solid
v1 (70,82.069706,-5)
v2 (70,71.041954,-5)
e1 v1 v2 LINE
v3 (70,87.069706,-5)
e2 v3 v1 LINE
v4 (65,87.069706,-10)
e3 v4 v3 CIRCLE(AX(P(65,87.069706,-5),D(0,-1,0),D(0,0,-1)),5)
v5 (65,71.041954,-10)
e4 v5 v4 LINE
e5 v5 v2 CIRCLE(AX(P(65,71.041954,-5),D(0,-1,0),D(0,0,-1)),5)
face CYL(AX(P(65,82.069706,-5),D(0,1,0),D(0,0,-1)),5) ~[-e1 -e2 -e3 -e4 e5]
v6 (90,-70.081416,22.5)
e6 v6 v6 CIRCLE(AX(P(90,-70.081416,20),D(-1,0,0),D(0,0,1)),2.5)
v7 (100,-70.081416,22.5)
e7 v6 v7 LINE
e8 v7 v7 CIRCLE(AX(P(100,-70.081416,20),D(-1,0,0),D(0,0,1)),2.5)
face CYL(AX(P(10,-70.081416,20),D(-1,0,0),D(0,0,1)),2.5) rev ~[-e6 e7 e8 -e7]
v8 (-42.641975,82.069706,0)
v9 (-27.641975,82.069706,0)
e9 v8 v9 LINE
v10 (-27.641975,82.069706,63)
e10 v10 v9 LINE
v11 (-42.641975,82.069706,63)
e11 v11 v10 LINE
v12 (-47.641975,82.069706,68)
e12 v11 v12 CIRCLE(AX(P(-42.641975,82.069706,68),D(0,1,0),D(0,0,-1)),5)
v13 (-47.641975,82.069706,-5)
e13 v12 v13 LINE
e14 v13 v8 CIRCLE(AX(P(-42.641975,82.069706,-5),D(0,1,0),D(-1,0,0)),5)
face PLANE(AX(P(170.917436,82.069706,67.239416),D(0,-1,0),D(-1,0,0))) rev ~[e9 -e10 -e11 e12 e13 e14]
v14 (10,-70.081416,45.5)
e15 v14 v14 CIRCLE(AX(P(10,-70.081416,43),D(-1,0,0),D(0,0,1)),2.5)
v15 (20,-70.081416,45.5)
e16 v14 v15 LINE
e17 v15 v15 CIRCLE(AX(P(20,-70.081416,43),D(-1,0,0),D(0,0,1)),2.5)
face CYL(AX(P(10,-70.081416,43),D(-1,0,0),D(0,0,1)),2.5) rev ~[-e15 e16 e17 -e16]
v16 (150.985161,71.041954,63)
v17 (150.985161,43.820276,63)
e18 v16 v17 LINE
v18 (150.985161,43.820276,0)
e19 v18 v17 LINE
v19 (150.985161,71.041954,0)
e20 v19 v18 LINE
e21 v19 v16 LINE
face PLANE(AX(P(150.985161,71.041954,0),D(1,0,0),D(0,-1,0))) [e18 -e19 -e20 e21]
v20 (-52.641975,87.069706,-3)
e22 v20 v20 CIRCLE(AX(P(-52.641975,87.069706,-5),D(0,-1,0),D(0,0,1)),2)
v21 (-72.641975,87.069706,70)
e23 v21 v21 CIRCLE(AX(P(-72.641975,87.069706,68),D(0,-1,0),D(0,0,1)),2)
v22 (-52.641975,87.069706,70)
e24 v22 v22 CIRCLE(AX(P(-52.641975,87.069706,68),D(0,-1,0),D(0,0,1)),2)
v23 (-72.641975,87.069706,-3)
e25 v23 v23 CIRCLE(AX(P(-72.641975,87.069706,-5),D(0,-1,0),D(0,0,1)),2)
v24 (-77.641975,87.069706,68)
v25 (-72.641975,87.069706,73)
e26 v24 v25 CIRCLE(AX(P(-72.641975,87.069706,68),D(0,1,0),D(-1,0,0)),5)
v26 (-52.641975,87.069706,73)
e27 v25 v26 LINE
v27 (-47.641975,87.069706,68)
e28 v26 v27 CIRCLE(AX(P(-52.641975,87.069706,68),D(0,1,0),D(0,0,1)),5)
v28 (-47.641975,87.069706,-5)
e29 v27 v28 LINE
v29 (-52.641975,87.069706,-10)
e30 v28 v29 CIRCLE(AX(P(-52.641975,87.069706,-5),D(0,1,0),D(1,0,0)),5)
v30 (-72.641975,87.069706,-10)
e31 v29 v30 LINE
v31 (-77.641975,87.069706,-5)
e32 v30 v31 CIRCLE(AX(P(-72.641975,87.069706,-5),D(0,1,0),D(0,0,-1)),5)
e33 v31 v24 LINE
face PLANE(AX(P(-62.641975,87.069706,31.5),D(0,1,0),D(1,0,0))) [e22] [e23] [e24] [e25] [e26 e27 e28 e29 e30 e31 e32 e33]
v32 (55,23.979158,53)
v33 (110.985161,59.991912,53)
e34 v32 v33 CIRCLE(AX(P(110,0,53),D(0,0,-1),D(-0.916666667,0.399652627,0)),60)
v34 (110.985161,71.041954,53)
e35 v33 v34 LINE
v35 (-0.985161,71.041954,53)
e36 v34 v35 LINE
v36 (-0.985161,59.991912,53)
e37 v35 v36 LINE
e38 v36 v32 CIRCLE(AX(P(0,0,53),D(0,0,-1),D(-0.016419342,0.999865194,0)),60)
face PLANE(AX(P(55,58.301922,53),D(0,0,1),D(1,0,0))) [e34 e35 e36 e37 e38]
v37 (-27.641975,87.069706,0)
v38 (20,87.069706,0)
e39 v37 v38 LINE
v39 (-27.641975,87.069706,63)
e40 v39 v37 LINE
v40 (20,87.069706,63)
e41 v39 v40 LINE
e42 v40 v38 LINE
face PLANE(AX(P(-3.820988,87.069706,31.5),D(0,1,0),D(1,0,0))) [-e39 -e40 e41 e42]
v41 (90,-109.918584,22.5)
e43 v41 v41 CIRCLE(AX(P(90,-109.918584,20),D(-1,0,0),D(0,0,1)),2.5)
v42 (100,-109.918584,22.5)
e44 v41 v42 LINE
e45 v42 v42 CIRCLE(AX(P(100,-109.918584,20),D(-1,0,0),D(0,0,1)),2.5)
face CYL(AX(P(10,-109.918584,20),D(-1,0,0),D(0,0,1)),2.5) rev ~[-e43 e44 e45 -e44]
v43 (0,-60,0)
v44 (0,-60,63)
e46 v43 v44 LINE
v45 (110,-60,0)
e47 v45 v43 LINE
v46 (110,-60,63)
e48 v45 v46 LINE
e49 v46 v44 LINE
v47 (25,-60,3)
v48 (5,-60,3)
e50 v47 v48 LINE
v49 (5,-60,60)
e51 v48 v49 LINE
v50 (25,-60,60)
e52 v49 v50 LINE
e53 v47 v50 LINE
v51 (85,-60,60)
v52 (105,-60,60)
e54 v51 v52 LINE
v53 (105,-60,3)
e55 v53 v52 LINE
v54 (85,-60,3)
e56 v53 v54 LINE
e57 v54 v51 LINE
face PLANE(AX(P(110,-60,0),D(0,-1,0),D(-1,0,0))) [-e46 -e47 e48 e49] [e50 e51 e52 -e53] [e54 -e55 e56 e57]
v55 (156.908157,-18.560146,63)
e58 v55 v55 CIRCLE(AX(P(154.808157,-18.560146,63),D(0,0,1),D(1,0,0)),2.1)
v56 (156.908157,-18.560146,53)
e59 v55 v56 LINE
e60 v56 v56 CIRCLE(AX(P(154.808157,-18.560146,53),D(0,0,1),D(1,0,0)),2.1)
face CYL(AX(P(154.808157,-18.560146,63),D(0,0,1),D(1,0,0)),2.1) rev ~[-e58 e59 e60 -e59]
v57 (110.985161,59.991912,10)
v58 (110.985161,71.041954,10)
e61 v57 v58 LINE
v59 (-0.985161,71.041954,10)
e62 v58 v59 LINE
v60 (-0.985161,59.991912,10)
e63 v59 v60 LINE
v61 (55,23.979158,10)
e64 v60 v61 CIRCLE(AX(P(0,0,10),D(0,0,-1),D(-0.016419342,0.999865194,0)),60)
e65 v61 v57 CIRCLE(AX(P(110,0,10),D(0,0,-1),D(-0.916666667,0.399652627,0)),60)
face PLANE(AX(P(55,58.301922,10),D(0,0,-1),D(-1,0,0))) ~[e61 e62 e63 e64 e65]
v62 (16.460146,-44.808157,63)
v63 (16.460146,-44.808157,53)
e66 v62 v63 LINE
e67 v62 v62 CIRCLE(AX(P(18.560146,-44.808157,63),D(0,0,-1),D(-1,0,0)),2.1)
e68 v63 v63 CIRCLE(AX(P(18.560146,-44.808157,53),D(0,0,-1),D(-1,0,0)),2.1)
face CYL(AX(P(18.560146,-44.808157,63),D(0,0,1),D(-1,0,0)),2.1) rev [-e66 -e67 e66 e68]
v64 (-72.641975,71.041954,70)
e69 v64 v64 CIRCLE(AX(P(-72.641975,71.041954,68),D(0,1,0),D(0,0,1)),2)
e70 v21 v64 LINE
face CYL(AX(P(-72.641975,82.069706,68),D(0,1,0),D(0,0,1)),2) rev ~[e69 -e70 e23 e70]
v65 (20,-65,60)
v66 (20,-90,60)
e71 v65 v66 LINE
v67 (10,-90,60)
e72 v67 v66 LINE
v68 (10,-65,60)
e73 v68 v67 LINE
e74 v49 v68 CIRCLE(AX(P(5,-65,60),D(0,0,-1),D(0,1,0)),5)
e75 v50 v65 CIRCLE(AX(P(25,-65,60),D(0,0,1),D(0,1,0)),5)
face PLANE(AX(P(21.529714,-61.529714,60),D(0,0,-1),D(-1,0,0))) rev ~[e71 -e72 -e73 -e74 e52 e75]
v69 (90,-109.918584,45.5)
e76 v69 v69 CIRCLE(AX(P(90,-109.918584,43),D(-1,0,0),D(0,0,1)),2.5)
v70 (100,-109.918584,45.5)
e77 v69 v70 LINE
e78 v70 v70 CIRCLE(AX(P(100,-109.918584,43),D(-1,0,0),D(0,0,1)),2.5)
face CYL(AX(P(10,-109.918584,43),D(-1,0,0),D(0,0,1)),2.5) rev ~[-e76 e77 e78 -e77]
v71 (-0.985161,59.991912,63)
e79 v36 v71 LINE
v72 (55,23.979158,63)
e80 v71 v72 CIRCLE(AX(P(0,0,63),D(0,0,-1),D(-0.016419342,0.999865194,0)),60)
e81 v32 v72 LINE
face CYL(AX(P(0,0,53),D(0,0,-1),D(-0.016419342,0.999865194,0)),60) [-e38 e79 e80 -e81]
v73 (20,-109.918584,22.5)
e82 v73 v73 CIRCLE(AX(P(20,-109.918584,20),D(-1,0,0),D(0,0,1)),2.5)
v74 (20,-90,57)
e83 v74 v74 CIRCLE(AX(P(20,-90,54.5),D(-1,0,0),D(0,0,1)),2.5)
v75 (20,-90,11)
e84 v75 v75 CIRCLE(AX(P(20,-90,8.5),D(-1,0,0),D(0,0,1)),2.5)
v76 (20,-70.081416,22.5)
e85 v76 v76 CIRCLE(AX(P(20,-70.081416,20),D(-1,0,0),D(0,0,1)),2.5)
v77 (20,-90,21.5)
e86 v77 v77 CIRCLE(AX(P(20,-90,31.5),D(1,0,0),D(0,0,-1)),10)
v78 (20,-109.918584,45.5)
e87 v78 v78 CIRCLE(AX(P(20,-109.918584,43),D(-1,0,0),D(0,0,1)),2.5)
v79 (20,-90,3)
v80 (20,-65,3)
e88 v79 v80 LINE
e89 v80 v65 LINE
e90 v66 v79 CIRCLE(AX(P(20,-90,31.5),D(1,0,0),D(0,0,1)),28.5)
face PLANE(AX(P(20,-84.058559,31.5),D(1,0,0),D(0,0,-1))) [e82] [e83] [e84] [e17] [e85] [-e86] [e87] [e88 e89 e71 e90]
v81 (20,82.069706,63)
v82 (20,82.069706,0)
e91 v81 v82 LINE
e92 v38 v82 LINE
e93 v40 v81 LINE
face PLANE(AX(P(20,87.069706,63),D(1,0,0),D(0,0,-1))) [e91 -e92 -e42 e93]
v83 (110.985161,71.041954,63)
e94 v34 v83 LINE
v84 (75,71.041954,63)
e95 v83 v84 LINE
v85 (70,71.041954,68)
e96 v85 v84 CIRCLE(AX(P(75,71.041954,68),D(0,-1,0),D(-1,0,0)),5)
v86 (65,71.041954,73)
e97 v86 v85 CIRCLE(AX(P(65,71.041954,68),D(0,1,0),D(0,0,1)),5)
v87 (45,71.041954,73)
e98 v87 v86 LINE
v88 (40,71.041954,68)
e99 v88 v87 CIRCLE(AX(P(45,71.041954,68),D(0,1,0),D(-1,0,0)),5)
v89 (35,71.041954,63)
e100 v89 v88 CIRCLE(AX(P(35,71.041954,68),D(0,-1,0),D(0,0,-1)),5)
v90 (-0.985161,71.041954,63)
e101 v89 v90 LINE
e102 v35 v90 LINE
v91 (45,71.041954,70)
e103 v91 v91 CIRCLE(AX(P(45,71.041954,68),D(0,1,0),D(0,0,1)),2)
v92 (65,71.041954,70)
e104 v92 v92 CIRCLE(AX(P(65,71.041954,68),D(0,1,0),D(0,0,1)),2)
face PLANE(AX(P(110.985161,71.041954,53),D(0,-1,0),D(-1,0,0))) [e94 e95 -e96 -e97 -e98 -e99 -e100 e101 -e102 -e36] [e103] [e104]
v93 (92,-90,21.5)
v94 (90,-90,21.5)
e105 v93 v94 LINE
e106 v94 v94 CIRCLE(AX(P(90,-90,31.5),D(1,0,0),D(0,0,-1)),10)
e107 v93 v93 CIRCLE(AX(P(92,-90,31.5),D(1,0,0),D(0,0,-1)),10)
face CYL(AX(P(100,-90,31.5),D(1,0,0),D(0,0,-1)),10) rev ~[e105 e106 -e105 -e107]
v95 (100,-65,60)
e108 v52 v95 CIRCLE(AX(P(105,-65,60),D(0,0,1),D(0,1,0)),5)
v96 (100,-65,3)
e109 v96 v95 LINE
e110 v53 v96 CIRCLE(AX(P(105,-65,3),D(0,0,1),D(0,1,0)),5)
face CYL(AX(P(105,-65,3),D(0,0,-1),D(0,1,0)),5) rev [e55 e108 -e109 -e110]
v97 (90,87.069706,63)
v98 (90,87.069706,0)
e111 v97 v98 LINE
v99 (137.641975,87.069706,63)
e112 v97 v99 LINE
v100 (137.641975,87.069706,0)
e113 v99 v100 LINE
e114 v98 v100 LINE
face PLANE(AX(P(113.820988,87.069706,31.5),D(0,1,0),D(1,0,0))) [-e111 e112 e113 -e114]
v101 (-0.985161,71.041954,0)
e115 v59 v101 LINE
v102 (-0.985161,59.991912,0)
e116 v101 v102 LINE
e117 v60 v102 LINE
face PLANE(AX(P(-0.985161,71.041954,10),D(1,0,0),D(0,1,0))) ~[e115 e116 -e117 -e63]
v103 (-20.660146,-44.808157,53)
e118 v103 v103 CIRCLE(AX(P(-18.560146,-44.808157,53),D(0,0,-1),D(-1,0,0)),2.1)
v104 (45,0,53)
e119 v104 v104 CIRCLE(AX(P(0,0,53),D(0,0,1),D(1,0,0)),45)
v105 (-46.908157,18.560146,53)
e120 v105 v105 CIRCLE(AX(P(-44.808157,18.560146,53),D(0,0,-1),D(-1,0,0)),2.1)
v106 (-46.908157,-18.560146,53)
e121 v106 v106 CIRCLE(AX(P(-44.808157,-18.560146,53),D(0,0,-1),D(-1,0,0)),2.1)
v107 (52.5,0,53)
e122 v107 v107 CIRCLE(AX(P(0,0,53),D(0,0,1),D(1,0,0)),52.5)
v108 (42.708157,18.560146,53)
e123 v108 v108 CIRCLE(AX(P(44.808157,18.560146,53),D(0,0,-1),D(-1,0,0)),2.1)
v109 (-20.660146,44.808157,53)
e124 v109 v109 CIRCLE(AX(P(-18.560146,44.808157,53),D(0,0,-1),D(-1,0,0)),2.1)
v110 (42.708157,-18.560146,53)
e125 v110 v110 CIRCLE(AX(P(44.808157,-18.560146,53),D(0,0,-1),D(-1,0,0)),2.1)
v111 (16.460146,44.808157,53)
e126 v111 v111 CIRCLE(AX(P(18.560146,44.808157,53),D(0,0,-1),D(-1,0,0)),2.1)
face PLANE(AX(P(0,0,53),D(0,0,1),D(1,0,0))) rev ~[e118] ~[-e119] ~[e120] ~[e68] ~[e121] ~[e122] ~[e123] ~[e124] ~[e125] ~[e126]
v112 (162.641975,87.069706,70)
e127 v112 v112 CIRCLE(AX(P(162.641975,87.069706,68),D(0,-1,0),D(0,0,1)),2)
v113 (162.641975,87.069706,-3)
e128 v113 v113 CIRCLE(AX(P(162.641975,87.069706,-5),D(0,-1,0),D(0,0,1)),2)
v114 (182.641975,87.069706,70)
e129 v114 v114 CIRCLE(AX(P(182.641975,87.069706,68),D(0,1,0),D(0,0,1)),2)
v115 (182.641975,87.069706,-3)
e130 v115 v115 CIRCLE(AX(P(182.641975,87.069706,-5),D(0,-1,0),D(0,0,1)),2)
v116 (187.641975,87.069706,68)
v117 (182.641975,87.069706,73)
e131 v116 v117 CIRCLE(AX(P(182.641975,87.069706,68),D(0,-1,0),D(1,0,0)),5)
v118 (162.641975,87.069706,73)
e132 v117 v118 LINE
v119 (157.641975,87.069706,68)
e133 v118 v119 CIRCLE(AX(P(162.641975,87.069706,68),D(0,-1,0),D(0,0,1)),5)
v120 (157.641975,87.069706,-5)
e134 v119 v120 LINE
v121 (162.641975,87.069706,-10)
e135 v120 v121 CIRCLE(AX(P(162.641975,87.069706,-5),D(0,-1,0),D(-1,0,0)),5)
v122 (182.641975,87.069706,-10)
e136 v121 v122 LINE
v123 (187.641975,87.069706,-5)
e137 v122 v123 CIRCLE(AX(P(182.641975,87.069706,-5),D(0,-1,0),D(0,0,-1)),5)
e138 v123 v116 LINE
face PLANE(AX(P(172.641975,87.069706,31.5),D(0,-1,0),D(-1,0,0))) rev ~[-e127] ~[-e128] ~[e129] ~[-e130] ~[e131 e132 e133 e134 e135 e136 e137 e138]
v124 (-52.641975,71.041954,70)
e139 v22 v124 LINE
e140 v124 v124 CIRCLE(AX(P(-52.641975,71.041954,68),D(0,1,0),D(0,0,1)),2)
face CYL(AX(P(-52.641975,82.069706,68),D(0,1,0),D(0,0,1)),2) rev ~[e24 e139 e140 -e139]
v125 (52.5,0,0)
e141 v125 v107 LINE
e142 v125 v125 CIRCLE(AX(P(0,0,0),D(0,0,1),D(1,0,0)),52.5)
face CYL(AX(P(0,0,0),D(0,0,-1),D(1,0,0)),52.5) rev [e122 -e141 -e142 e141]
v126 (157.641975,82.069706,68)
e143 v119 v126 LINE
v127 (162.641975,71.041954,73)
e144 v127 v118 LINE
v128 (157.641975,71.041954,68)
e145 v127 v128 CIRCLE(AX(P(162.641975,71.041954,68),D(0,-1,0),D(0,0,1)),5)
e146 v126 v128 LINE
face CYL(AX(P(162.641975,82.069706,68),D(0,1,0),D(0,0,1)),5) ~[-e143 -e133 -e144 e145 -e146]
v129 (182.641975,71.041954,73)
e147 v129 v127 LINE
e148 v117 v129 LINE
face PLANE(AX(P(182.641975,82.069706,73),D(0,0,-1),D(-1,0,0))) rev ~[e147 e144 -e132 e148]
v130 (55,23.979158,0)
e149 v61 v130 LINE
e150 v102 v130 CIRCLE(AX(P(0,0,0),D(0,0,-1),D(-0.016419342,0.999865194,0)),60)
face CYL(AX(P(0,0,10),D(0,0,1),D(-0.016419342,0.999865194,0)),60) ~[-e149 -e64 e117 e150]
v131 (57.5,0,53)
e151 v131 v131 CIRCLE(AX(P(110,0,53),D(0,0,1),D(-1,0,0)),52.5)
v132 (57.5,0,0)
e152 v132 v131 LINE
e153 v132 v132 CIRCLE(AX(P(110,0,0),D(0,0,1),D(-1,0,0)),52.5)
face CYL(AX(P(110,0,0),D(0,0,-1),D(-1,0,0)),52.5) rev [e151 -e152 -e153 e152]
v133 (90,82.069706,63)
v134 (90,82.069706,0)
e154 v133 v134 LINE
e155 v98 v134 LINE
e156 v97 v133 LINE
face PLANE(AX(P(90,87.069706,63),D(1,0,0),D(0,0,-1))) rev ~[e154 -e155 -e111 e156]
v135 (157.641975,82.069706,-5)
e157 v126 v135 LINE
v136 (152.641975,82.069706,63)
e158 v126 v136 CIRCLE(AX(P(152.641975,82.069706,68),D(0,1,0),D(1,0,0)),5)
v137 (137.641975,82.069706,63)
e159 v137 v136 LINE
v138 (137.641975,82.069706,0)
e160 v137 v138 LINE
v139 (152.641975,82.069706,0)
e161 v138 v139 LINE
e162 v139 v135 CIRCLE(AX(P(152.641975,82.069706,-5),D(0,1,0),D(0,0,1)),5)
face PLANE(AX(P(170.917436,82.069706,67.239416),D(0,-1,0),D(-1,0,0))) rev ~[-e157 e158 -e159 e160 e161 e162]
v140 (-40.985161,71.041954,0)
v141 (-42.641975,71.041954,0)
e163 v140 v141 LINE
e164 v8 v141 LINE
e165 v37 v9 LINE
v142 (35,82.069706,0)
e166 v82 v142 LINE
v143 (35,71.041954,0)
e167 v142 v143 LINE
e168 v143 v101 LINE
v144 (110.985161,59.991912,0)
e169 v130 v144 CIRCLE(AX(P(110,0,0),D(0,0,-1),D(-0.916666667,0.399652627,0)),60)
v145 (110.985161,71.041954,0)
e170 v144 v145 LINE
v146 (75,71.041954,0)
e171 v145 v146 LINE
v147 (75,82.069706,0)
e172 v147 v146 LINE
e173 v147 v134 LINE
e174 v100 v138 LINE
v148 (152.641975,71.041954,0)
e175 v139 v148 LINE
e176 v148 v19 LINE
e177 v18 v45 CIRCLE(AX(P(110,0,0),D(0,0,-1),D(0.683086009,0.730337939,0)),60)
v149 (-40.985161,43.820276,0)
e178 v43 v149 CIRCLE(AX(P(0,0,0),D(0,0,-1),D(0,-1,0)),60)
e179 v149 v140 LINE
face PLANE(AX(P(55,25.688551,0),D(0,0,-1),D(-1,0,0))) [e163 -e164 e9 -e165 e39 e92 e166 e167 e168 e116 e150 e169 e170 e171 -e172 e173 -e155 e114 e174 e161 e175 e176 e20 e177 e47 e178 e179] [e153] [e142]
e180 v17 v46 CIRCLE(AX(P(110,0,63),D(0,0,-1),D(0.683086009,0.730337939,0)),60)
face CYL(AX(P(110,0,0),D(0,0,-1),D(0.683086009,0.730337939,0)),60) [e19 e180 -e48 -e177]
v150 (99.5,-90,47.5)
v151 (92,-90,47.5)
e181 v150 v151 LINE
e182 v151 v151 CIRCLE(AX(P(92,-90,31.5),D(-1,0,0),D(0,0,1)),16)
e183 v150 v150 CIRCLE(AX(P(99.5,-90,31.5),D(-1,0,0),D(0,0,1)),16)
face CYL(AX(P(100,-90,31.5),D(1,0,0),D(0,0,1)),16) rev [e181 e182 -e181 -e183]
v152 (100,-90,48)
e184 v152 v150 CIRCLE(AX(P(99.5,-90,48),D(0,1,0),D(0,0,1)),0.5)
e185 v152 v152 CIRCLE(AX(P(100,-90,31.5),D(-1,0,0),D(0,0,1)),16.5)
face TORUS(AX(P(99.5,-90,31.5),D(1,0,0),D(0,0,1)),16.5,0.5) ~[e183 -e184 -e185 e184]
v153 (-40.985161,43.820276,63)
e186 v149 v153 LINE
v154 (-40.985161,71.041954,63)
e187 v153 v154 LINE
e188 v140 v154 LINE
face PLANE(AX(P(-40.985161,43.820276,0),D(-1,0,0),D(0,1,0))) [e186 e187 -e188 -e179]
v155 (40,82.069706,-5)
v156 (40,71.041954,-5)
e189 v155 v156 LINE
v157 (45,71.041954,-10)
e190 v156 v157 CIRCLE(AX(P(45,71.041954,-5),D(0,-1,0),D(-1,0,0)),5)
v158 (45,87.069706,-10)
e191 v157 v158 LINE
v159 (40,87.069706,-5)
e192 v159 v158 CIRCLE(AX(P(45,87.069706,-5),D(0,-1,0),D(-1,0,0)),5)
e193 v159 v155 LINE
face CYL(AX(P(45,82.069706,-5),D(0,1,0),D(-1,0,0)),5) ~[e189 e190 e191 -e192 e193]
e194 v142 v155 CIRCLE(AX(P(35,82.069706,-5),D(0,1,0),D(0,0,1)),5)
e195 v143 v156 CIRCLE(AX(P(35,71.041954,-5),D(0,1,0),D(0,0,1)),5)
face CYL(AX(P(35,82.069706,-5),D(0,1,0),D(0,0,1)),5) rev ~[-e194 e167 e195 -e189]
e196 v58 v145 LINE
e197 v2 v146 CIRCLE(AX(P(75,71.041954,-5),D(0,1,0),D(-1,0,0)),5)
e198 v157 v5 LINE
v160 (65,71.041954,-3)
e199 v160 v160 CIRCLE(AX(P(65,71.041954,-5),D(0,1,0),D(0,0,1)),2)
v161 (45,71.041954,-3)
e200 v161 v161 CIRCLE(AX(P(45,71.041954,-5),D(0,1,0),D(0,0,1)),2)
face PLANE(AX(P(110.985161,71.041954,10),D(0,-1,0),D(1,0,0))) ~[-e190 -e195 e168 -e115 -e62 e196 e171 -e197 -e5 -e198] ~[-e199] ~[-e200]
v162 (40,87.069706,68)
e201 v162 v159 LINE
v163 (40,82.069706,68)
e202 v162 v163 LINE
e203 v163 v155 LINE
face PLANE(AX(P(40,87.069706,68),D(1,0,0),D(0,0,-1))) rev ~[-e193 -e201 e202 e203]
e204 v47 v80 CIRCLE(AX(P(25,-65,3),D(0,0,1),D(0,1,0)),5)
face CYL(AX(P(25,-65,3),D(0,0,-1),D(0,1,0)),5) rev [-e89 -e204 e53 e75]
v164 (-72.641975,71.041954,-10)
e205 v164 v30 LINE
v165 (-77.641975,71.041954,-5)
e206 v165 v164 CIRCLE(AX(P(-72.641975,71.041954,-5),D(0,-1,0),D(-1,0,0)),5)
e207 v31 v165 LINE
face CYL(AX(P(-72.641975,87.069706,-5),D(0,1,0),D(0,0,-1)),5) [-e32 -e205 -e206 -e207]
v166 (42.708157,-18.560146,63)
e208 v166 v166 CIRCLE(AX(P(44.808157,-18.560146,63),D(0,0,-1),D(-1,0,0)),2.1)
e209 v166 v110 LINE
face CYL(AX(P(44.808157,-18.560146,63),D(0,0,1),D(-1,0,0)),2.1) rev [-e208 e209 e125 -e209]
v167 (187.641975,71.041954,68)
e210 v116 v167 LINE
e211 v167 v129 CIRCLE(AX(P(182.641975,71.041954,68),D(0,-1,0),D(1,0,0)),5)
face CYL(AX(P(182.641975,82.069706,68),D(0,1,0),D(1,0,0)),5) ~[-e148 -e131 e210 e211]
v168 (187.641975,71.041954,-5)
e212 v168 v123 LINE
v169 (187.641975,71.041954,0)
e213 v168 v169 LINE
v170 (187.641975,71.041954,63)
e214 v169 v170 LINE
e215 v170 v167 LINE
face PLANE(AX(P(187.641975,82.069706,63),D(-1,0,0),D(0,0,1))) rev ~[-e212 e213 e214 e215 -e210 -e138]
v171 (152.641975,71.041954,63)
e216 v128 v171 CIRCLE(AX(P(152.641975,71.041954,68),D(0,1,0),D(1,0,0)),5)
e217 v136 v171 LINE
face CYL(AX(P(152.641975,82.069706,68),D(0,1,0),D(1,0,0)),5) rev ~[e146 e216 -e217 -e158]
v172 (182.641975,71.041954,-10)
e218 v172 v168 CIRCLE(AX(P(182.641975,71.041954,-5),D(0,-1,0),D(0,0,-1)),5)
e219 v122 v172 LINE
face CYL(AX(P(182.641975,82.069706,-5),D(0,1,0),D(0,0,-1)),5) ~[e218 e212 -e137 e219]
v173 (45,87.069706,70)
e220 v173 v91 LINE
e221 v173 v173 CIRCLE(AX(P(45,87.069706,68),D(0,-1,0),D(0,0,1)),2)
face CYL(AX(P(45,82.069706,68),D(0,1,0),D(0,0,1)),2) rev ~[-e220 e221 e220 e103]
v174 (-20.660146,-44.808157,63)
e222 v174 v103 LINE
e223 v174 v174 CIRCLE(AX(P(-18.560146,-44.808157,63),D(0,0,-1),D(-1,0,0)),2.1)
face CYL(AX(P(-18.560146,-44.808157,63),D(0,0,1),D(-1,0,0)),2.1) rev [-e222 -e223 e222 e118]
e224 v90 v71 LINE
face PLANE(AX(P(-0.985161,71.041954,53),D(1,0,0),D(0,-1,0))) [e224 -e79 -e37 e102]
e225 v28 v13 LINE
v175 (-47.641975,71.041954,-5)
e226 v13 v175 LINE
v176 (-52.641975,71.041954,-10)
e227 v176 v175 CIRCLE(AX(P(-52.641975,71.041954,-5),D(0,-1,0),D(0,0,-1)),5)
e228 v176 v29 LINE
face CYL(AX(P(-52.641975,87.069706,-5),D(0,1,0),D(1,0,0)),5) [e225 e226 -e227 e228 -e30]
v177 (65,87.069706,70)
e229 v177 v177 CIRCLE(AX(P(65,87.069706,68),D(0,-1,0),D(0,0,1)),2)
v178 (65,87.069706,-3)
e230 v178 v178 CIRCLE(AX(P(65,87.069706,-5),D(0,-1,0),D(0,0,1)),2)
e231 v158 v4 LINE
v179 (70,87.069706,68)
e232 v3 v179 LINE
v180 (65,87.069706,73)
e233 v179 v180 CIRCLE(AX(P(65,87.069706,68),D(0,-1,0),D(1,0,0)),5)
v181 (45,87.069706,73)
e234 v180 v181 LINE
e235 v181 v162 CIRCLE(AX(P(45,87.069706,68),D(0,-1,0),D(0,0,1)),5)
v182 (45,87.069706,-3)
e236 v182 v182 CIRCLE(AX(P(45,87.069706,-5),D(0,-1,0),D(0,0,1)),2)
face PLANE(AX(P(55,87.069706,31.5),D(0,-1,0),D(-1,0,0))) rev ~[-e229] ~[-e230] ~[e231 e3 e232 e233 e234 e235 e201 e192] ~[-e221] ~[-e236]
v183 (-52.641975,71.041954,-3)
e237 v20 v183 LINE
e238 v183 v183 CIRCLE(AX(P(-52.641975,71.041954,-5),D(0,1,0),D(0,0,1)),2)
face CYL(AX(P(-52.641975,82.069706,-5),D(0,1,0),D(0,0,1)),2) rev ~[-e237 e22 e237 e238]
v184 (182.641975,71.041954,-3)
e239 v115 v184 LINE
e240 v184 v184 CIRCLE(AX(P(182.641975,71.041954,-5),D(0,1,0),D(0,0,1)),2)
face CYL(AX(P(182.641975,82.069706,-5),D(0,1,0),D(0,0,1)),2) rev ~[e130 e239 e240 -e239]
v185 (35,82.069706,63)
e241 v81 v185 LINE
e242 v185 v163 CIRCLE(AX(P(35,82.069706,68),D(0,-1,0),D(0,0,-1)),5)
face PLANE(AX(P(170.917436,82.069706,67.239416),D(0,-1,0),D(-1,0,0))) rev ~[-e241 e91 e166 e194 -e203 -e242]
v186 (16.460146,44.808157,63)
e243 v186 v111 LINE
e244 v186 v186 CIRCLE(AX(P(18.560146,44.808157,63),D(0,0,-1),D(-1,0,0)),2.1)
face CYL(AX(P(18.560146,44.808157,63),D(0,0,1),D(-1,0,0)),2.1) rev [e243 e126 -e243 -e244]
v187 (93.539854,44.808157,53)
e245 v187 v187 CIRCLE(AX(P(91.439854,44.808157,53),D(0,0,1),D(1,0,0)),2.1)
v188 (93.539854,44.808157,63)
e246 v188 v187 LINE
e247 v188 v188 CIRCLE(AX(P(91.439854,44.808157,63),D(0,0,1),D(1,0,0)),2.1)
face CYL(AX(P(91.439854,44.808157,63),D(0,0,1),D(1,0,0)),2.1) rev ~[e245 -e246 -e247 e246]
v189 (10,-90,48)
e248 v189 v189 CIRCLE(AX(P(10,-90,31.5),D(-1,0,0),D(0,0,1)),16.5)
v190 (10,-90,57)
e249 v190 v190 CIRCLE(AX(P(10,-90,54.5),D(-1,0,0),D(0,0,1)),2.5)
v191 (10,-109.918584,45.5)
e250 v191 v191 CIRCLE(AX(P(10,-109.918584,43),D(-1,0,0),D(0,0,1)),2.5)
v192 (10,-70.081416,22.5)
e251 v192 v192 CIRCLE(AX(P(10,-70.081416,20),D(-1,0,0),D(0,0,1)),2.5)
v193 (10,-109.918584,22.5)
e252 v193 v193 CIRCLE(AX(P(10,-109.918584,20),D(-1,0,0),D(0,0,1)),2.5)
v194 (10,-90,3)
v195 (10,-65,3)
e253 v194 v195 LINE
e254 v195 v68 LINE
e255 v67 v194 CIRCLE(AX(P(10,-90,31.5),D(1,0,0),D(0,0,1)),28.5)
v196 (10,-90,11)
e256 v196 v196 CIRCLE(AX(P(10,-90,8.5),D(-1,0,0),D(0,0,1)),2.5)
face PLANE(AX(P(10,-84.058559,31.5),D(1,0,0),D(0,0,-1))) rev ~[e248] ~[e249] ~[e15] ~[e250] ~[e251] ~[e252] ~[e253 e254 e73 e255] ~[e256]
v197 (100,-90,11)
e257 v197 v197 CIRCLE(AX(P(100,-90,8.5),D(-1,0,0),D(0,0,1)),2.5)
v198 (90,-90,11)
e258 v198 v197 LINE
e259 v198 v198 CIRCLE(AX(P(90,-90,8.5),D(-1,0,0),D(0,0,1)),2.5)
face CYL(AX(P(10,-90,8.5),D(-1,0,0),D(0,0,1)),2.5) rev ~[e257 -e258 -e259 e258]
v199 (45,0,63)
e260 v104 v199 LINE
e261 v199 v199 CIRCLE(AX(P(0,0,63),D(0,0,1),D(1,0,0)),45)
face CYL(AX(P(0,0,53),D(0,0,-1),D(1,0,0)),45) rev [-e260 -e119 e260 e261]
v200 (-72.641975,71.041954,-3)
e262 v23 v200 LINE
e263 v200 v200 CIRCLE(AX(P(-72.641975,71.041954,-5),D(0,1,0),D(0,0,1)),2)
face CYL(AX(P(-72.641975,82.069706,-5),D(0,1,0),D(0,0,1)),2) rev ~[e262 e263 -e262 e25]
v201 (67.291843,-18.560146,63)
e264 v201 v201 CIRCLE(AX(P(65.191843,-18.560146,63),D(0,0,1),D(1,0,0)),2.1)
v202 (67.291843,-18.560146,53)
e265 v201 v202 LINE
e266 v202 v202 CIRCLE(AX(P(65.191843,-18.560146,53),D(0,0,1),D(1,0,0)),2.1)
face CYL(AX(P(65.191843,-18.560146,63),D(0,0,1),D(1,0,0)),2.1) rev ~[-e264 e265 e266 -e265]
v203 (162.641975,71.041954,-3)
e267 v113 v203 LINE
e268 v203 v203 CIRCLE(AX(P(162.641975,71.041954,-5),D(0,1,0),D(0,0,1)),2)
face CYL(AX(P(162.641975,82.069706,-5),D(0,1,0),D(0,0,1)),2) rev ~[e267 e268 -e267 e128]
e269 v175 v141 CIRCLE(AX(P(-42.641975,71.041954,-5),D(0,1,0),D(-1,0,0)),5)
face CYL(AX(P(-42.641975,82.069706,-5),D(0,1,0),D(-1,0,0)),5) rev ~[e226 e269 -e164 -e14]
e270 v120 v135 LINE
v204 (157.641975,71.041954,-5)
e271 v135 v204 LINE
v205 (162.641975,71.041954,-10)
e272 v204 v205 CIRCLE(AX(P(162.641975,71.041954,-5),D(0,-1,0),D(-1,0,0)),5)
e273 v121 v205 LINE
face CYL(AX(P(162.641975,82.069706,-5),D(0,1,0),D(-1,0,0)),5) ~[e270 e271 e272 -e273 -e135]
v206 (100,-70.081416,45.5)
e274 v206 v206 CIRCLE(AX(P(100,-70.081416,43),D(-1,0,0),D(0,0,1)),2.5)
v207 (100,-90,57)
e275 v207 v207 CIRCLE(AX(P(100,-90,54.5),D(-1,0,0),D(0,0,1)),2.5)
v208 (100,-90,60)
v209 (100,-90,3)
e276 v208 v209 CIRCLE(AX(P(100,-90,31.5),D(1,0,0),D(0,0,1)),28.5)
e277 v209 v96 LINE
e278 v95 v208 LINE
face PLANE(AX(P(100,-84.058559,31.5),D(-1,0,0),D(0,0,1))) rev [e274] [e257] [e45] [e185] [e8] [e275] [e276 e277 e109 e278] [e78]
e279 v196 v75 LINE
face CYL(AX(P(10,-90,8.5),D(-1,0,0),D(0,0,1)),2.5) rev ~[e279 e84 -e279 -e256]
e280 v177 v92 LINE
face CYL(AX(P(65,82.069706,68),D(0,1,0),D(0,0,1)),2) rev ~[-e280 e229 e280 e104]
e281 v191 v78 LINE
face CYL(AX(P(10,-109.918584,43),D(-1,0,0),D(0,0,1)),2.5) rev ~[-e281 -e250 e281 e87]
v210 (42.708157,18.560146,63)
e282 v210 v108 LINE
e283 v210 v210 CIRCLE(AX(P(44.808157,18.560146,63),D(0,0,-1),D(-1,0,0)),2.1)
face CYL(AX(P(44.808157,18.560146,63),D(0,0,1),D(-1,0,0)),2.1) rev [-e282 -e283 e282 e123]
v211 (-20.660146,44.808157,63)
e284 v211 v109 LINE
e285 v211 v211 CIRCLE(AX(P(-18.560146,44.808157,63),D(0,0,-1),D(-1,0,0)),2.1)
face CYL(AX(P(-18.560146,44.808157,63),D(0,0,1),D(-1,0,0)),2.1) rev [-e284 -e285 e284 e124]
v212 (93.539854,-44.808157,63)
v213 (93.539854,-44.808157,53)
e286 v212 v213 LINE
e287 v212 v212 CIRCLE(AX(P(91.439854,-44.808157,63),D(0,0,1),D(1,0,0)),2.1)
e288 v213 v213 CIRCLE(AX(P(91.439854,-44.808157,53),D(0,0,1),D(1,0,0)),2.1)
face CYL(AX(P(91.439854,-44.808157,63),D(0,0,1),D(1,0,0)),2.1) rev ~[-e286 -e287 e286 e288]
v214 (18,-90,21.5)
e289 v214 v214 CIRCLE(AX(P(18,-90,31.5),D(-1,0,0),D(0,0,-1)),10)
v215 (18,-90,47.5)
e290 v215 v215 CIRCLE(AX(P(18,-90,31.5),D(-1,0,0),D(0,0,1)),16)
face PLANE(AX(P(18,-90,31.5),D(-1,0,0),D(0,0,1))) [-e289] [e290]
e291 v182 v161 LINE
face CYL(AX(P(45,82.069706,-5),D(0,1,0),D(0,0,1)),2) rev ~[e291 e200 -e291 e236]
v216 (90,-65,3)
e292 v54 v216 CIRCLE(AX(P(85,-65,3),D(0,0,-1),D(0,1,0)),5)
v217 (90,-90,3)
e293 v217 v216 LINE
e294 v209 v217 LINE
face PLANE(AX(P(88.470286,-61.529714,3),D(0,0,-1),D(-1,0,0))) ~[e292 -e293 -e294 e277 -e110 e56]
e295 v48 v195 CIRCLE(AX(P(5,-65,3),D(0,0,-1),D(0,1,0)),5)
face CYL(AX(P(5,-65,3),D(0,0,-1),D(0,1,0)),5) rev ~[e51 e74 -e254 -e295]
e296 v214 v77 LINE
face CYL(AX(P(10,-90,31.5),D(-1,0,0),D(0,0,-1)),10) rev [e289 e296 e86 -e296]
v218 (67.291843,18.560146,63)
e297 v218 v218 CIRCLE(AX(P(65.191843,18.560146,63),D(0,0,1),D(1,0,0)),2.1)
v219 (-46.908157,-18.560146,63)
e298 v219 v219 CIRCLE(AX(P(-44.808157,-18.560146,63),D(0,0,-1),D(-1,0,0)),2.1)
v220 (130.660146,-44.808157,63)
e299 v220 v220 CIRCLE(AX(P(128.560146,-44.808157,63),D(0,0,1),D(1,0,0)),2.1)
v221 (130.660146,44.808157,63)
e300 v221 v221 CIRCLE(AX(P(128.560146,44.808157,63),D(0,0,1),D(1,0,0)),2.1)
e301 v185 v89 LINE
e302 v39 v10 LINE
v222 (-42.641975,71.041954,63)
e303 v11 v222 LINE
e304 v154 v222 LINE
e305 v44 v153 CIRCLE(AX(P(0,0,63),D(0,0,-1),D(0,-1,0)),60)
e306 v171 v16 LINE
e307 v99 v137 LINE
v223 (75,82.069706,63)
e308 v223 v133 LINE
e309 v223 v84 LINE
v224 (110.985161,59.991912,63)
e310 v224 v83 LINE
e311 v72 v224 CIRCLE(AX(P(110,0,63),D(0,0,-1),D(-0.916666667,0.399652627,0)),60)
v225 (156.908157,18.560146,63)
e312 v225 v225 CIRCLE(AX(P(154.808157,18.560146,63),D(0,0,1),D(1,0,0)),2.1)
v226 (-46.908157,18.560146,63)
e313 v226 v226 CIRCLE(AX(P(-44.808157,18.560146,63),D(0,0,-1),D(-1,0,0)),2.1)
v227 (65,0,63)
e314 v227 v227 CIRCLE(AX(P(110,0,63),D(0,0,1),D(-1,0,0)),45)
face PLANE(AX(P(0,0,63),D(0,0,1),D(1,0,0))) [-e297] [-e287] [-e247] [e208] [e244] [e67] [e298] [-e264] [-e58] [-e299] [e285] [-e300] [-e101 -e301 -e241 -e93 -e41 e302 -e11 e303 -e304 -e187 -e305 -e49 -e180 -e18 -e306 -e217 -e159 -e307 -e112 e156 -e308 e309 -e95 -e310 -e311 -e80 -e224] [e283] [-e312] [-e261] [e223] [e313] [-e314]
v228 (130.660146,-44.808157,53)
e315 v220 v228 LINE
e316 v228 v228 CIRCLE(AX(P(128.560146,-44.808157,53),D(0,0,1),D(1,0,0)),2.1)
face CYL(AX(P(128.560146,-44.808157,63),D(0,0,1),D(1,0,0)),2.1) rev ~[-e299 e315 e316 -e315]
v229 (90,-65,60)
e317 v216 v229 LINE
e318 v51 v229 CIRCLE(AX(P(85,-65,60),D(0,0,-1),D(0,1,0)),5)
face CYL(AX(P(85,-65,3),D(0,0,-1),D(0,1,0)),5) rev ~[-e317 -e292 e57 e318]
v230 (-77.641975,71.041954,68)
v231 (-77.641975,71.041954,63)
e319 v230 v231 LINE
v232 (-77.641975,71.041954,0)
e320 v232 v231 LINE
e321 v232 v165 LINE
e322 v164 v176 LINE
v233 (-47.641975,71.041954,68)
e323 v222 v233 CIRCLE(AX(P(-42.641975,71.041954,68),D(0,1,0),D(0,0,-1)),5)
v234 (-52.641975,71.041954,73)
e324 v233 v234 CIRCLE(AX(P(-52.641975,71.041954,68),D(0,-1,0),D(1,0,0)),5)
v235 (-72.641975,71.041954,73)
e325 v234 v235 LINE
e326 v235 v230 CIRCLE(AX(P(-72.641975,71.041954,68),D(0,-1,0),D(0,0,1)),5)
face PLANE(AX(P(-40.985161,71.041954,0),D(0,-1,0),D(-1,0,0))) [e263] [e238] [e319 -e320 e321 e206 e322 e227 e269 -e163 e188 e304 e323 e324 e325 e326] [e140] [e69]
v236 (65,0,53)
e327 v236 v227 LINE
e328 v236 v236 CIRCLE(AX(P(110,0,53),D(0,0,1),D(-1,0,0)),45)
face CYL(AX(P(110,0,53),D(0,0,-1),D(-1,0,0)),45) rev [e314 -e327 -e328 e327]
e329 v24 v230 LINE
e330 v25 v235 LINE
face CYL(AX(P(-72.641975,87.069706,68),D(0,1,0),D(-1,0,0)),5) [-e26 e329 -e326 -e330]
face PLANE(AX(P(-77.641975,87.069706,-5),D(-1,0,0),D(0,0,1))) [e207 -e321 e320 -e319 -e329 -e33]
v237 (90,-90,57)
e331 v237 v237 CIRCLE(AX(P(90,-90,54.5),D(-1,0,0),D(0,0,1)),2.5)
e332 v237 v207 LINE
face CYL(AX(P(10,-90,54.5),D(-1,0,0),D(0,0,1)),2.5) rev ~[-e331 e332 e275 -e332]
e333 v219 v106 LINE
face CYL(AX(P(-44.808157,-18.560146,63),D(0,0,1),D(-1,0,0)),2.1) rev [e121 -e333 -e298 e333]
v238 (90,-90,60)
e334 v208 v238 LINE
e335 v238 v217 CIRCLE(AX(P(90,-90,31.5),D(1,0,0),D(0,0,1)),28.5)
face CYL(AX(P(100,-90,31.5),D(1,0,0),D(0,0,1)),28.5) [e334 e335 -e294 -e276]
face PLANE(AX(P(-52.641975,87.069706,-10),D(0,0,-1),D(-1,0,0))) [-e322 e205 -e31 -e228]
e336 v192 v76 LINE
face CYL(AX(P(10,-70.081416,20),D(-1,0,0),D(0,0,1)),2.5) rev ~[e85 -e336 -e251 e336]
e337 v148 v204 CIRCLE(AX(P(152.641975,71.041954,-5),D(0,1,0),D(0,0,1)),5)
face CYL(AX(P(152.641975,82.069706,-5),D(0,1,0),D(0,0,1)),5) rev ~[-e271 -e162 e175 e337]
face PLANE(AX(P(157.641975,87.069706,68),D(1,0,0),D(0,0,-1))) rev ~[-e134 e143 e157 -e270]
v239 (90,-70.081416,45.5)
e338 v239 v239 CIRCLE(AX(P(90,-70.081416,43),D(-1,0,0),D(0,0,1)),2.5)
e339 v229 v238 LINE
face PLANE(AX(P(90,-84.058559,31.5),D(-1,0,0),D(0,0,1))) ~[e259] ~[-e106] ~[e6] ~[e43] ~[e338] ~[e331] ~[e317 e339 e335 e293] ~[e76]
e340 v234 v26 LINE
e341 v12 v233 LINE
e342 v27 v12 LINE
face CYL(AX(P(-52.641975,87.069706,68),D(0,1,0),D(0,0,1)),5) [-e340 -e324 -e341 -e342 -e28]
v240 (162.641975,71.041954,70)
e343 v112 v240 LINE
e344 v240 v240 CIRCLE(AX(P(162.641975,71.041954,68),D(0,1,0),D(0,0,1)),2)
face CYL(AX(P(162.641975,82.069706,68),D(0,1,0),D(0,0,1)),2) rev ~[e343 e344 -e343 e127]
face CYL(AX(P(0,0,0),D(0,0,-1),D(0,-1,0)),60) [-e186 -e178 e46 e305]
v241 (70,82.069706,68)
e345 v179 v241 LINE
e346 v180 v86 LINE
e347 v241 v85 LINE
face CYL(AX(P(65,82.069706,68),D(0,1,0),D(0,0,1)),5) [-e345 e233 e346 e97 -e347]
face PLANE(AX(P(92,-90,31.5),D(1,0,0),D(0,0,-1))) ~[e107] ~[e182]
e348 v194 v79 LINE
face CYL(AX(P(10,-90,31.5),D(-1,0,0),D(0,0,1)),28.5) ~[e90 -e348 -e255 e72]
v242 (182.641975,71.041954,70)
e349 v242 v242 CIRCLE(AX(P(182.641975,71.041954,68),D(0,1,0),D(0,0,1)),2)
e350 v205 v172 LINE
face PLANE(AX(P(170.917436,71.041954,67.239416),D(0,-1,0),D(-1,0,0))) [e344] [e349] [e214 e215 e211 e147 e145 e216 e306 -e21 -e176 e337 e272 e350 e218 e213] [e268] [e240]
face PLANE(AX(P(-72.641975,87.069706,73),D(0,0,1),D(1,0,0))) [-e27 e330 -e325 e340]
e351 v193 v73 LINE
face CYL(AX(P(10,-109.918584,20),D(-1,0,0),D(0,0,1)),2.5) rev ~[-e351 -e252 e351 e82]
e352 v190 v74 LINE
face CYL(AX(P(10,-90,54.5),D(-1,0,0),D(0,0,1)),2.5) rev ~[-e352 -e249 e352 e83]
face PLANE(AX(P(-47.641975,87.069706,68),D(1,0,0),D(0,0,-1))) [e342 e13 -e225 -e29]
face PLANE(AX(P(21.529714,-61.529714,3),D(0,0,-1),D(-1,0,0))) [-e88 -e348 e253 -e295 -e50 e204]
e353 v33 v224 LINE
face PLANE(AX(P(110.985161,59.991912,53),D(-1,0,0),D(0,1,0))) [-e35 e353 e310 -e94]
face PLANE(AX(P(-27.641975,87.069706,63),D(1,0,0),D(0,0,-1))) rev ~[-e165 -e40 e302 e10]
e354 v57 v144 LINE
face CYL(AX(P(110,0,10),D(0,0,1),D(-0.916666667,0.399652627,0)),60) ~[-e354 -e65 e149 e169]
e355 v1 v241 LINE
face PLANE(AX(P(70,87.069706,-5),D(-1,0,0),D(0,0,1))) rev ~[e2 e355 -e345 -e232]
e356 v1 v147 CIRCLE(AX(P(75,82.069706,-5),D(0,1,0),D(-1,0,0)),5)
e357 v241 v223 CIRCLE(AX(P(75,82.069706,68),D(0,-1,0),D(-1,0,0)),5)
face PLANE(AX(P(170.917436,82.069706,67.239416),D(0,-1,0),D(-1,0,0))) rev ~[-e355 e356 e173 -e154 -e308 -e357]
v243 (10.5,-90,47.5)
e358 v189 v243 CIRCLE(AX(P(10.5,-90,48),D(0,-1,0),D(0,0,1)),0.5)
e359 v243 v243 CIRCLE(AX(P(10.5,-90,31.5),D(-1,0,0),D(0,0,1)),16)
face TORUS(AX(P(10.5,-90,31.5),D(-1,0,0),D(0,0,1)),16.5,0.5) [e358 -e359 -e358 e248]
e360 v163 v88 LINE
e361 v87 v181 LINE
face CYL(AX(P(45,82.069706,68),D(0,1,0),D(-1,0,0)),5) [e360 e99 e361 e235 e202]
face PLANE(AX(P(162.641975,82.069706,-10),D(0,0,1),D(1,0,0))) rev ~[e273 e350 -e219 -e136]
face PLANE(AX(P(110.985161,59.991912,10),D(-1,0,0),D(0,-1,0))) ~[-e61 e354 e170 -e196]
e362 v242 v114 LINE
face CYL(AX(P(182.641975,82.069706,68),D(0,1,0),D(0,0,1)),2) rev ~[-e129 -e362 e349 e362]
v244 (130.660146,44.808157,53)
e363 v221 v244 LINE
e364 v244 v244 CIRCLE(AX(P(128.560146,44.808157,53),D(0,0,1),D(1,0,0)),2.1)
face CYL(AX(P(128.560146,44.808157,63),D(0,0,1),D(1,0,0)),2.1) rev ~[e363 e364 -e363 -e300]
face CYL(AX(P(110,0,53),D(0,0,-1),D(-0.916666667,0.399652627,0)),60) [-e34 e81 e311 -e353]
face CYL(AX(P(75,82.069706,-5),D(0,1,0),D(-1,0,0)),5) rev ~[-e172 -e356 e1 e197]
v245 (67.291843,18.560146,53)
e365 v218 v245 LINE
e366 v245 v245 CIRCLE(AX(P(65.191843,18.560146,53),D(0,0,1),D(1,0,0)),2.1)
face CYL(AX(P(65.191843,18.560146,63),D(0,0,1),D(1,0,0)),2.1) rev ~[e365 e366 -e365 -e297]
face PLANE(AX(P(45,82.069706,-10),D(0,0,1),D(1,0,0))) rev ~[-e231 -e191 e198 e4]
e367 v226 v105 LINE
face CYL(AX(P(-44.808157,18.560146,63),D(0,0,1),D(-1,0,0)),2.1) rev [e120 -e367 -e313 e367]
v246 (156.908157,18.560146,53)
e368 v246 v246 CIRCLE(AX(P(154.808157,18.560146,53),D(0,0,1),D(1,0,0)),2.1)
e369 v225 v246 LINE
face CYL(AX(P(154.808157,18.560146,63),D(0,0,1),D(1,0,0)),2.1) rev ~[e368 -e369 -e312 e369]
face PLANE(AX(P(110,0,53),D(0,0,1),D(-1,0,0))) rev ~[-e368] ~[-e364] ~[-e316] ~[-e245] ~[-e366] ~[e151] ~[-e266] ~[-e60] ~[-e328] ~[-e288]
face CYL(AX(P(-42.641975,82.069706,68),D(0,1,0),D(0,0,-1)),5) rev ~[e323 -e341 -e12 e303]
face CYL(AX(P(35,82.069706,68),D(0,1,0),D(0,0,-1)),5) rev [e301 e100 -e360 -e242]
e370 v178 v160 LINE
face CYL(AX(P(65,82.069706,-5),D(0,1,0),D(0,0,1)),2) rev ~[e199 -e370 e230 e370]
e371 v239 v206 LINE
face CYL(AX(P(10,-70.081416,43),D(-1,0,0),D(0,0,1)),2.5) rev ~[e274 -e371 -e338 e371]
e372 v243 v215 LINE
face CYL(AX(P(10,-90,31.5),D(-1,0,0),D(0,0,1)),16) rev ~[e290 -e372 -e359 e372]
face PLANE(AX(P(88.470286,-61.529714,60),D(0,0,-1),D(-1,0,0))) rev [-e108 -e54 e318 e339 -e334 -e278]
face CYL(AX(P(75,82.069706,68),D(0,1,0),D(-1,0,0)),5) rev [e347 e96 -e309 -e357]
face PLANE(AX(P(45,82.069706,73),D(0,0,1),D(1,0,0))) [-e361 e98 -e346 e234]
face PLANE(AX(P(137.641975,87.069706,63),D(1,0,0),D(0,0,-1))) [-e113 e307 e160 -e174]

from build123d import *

# Parameters (mm, degrees)
SKETCH_1_R          = 52.5
EXTRUDE_1_DEPTH     = 63
SKETCH_3_R          = 10
EXTRUDE_3_DEPTH     = 10
EXTRUDE_5_DEPTH     = 57
EXTRUDE_START       = -10
SKETCH_6_R          = 52.5
SKETCH_6_R_2        = 45
EXTRUDE_6_DEPTH     = 10
SKETCH_9_R          = 2.1
CUT_EXTRUDE_1_DEPTH = 10
CUT_EXTRUDE_START   = -10
CUT_EXTRUDE_2_DEPTH = 10
SKETCH_11_R         = 16
CUT_EXTRUDE_3_DEPTH = 8
FILLET_1_R          = 0.5
EXTRUDE_7_DEPTH     = 11.027752017
SKETCH_14_R         = 2.5
CUT_EXTRUDE_5_DEPTH = 135
EXTRUDE_START_2     = 5
SKETCH_16_W         = 47.641975029
SKETCH_16_H         = 63
EXTRUDE_8_DEPTH     = 5
SKETCH_15_R         = 2
CUT_EXTRUDE_7_DEPTH = 14


with BuildPart() as part:
    # 草图1 → 凸台-拉伸1 (new body)
    with BuildSketch(Plane.XY):
        with BuildLine():
            Line((-40.985160522, 43.820276322), (-40.985160522, 71.041954073))
            Line((-40.985160522, 71.041954073), (-77.641975029, 71.041954073))
            Line((-77.641975029, 71.041954073), (-77.641975029, 82.069706091))
            Line((-77.641975029, 82.069706091), (-40.985160522, 82.069706091))
            Line((-40.985160522, 82.069706091), (150.985160522, 82.069706091))
            Line((150.985160522, 82.069706091), (187.641975029, 82.069706091))
            Line((187.641975029, 82.069706091), (187.641975029, 71.041954073))
            Line((187.641975029, 71.041954073), (150.985160522, 71.041954073))
            Line((150.985160522, 71.041954073), (150.985160522, 43.820276322))
            ThreePointArc((150.985160522, 43.820276322), (165.808675756, -22.031607076), (110, -60))
            Line((110, -60), (0, -60))
            ThreePointArc((0, -60), (-55.808675756, -22.031607076), (-40.985160522, 43.820276322))
        make_face()
        Circle(SKETCH_1_R, mode=Mode.SUBTRACT)
        with Locations(Location((110, 0, 0), (0, 0, 180))):
            Circle(SKETCH_1_R, mode=Mode.SUBTRACT)
    extrude(amount=EXTRUDE_1_DEPTH)

    # 草图3 → 凸台-拉伸3 (add)
    with BuildSketch(Plane(origin=(10, 0, 0), x_dir=(0, 0, -1), z_dir=(1, 0, 0))):
        with BuildLine():
            Line((-60, -60), (-60, -90))
            ThreePointArc((-60, -90), (-31.5, -118.5), (-3, -90))
            Line((-3, -90), (-3, -60))
            Line((-3, -60), (-60, -60))
        make_face()
        with Locations((-31.5, -90)):
            Circle(SKETCH_3_R, mode=Mode.SUBTRACT)
    extrude_3 = extrude(amount=EXTRUDE_3_DEPTH)

    # 草图5 → 凸台-拉伸5 (add)
    with BuildSketch(Plane(origin=(0, 0, 3), x_dir=(-1, 0, 0), z_dir=(0, 0, -1))):
        with BuildLine():
            Line((-20, -65), (-20, -60))
            Line((-20, -60), (-25, -60))
            ThreePointArc((-25, -60), (-21.464466094, -61.464466094), (-20, -65))
        make_face()
        with BuildLine():
            Line((-10, -65), (-10, -60))
            Line((-10, -60), (-5, -60))
            ThreePointArc((-5, -60), (-8.535533906, -61.464466094), (-10, -65))
        make_face()
    extrude_5 = extrude(amount=-EXTRUDE_5_DEPTH)

    # 镜向1: 凸台-拉伸3, 凸台-拉伸5 across plane
    add(extrude_3.mirror(Plane(origin=(55, 0, 0), x_dir=(0, 0, 1), z_dir=(1, 0, 0))))
    add(extrude_5.mirror(Plane(origin=(55, 0, 0), x_dir=(0, 0, 1), z_dir=(1, 0, 0))))

    # 草图6 → 凸台-拉伸6 (add)
    # profile 1 of 2: a face of its own
    with BuildSketch(Plane.XY.offset(63).offset(EXTRUDE_START)):
        Circle(SKETCH_6_R)
        Circle(SKETCH_6_R_2, mode=Mode.SUBTRACT)
    # profile 2 of 2: a face of its own
    with BuildSketch(Plane.XY.offset(63).offset(EXTRUDE_START)):
        with Locations(Location((110, 0, 0), (0, 0, 180))):
            Circle(SKETCH_6_R)
        with Locations(Location((110, 0, 0), (0, 0, 180))):
            Circle(SKETCH_6_R_2, mode=Mode.SUBTRACT)
    extrude(amount=EXTRUDE_6_DEPTH)

    # 草图9 → 切除-拉伸1 (cut)
    with BuildSketch(Plane.XY.offset(63)):
        with Locations((65.191842673, 18.56014647)):
            Circle(SKETCH_9_R)
        with Locations((91.43985353, 44.808157327)):
            Circle(SKETCH_9_R)
        with Locations((128.56014647, 44.808157327)):
            Circle(SKETCH_9_R)
        with Locations((154.808157327, 18.56014647)):
            Circle(SKETCH_9_R)
        with Locations((154.808157327, -18.56014647)):
            Circle(SKETCH_9_R)
        with Locations((128.56014647, -44.808157327)):
            Circle(SKETCH_9_R)
        with Locations((91.43985353, -44.808157327)):
            Circle(SKETCH_9_R)
        with Locations((65.191842673, -18.56014647)):
            Circle(SKETCH_9_R)
    cut_extrude_1 = extrude(amount=-CUT_EXTRUDE_1_DEPTH, mode=Mode.SUBTRACT)

    # 镜向2: 切除-拉伸1 across plane
    add(cut_extrude_1.mirror(Plane(origin=(55, 0, 0), x_dir=(0, 0, 1), z_dir=(1, 0, 0))), mode=Mode.SUBTRACT)

    # 草图10 → 切除-拉伸2 (cut)
    with BuildSketch(Plane.XY.offset(63).offset(CUT_EXTRUDE_START)):
        with BuildLine():
            Line((110.985160522, 59.991911611), (110.985160522, 71.041954073))
            Line((110.985160522, 71.041954073), (-0.985160522, 71.041954073))
            Line((-0.985160522, 71.041954073), (-0.985160522, 59.991911611))
            ThreePointArc((-0.985160522, 59.991911611), (32.459672419, 50.461566231), (55, 23.979157617))
            ThreePointArc((55, 23.979157617), (77.540327581, 50.461566231), (110.985160522, 59.991911611))
        make_face()
    cut_extrude_2 = extrude(amount=CUT_EXTRUDE_2_DEPTH, mode=Mode.SUBTRACT)

    # 草图11 → 切除-拉伸3 (cut)
    with BuildSketch(Plane.ZY.offset(-10)):
        with Locations((31.5, -90)):
            Circle(SKETCH_11_R)
    cut_extrude_3 = extrude(amount=-CUT_EXTRUDE_3_DEPTH, mode=Mode.SUBTRACT)

    # 镜向3: 切除-拉伸2 across plane
    add(cut_extrude_2.mirror(Plane.XY.offset(31.5)), mode=Mode.SUBTRACT)

    # 镜向4: 切除-拉伸3 across plane
    add(cut_extrude_3.mirror(Plane(origin=(55, 0, 0), x_dir=(0, 0, 1), z_dir=(1, 0, 0))), mode=Mode.SUBTRACT)

    # 圆角1
    fillet_1_edges = [part.edges().sort_by_distance(p)[0] for p in [
        (10, -90, 15.5),
        (100, -90, 15.5),
    ]]
    fillet(fillet_1_edges, radius=FILLET_1_R)

    # 草图13 → 凸台-拉伸7 (add)
    with BuildSketch(Plane(origin=(0, 82.069706091, 0), x_dir=(1, 0, 0), z_dir=(0, 1, 0))):
        with BuildLine():
            Line((152.641975029, -63), (187.641975029, -63))
            Line((187.641975029, -63), (187.641975029, -68))
            ThreePointArc((187.641975029, -68), (186.177508935, -71.535533906), (182.641975029, -73))
            Line((182.641975029, -73), (162.641975029, -73))
            ThreePointArc((162.641975029, -73), (159.106441123, -71.535533906), (157.641975029, -68))
            ThreePointArc((157.641975029, -68), (156.177508935, -64.464466094), (152.641975029, -63))
        make_face()
        with BuildLine():
            Line((-52.641975029, -73), (-72.641975029, -73))
            ThreePointArc((-72.641975029, -73), (-76.177508935, -71.535533906), (-77.641975029, -68))
            Line((-77.641975029, -68), (-77.641975029, -63))
            Line((-77.641975029, -63), (-42.641975029, -63))
            ThreePointArc((-42.641975029, -63), (-46.177508935, -64.464466094), (-47.641975029, -68))
            ThreePointArc((-47.641975029, -68), (-49.106441123, -71.535533906), (-52.641975029, -73))
        make_face()
        with BuildLine():
            Line((162.641975029, 10), (182.641975029, 10))
            ThreePointArc((182.641975029, 10), (186.177508935, 8.535533906), (187.641975029, 5))
            Line((187.641975029, 5), (187.641975029, 0))
            Line((187.641975029, 0), (152.641975029, 0))
            ThreePointArc((152.641975029, 0), (156.177508935, 1.464466094), (157.641975029, 5))
            ThreePointArc((157.641975029, 5), (159.106441123, 8.535533906), (162.641975029, 10))
        make_face()
        with BuildLine():
            Line((-42.641975029, 0), (-77.641975029, 0))
            Line((-77.641975029, 0), (-77.641975029, 5))
            ThreePointArc((-77.641975029, 5), (-76.177508935, 8.535533906), (-72.641975029, 10))
            Line((-72.641975029, 10), (-52.641975029, 10))
            ThreePointArc((-52.641975029, 10), (-49.106441123, 8.535533906), (-47.641975029, 5))
            ThreePointArc((-47.641975029, 5), (-46.177508935, 1.464466094), (-42.641975029, 0))
        make_face()
        with BuildLine():
            Line((45, -73), (65, -73))
            ThreePointArc((65, -73), (68.535533906, -71.535533906), (70, -68))
            ThreePointArc((70, -68), (71.464466094, -64.464466094), (75, -63))
            Line((75, -63), (35, -63))
            ThreePointArc((35, -63), (38.535533906, -64.464466094), (40, -68))
            ThreePointArc((40, -68), (41.464466094, -71.535533906), (45, -73))
        make_face()
        with BuildLine():
            Line((75, 0), (35, 0))
            ThreePointArc((35, 0), (38.535533906, 1.464466094), (40, 5))
            ThreePointArc((40, 5), (41.464466094, 8.535533906), (45, 10))
            Line((45, 10), (65, 10))
            ThreePointArc((65, 10), (68.535533906, 8.535533906), (70, 5))
            ThreePointArc((70, 5), (71.464466094, 1.464466094), (75, 0))
        make_face()
    extrude(amount=-EXTRUDE_7_DEPTH)

    # 草图14 → 切除-拉伸5 (cut)
    with BuildSketch(Plane.ZY.offset(-10)):
        with Locations((8.5, -90)):
            Circle(SKETCH_14_R)
        with Locations((20, -70.081415713)):
            Circle(SKETCH_14_R)
        with Locations((43, -70.081415713)):
            Circle(SKETCH_14_R)
        with Locations((54.5, -90)):
            Circle(SKETCH_14_R)
        with Locations((43, -109.918584287)):
            Circle(SKETCH_14_R)
        with Locations((20, -109.918584287)):
            Circle(SKETCH_14_R)
    extrude(amount=-CUT_EXTRUDE_5_DEPTH, mode=Mode.SUBTRACT)

    # 草图16 → 凸台-拉伸8 (add)
    with BuildSketch(Plane(origin=(0, 82.069706091, 0), x_dir=(1, 0, 0), z_dir=(0, 1, 0)).offset(EXTRUDE_START_2)):
        with BuildLine():
            Line((-72.641975029, -73), (-52.641975029, -73))
            ThreePointArc((-52.641975029, -73), (-49.106441123, -71.535533906), (-47.641975029, -68))
            Line((-47.641975029, -68), (-47.641975029, 5))
            ThreePointArc((-47.641975029, 5), (-49.106441123, 8.535533906), (-52.641975029, 10))
            Line((-52.641975029, 10), (-72.641975029, 10))
            ThreePointArc((-72.641975029, 10), (-76.177508935, 8.535533906), (-77.641975029, 5))
            Line((-77.641975029, 5), (-77.641975029, -68))
            ThreePointArc((-77.641975029, -68), (-76.177508935, -71.535533906), (-72.641975029, -73))
        make_face()
        with BuildLine():
            Line((40, -68), (40, 5))
            ThreePointArc((40, 5), (41.464466094, 8.535533906), (45, 10))
            Line((45, 10), (65, 10))
            ThreePointArc((65, 10), (68.535533906, 8.535533906), (70, 5))
            Line((70, 5), (70, -68))
            ThreePointArc((70, -68), (68.535533906, -71.535533906), (65, -73))
            Line((65, -73), (45, -73))
            ThreePointArc((45, -73), (41.464466094, -71.535533906), (40, -68))
        make_face()
        with BuildLine():
            Line((162.641975029, 10), (182.641975029, 10))
            ThreePointArc((182.641975029, 10), (186.177508935, 8.535533906), (187.641975029, 5))
            Line((187.641975029, 5), (187.641975029, -68))
            ThreePointArc((187.641975029, -68), (186.177508935, -71.535533906), (182.641975029, -73))
            Line((182.641975029, -73), (162.641975029, -73))
            ThreePointArc((162.641975029, -73), (159.106441123, -71.535533906), (157.641975029, -68))
            Line((157.641975029, -68), (157.641975029, 5))
            ThreePointArc((157.641975029, 5), (159.106441123, 8.535533906), (162.641975029, 10))
        make_face()
        with Locations((113.820987515, -31.5)):
            Rectangle(SKETCH_16_W, SKETCH_16_H)
        with Locations((-3.820987515, -31.5)):
            Rectangle(SKETCH_16_W, SKETCH_16_H)
    extrude(amount=-EXTRUDE_8_DEPTH)

    # 草图15 → 切除-拉伸7 (cut, symmetric)
    with BuildSketch(Plane(origin=(0, 82.069706091, 0), x_dir=(1, 0, 0), z_dir=(0, 1, 0))):
        with Locations(Location((-72.641975029, 5, 0), (0, 0, 270))):
            Circle(SKETCH_15_R)
        with Locations(Location((-52.641975029, 5, 0), (0, 0, 270))):
            Circle(SKETCH_15_R)
        with Locations(Location((45, 5, 0), (0, 0, 270))):
            Circle(SKETCH_15_R)
        with Locations(Location((65, 5, 0), (0, 0, 270))):
            Circle(SKETCH_15_R)
        with Locations(Location((162.641975029, 5, 0), (0, 0, 270))):
            Circle(SKETCH_15_R)
        with Locations(Location((182.641975029, 5, 0), (0, 0, 270))):
            Circle(SKETCH_15_R)
        with Locations(Location((-72.641975029, -68, 0), (0, 0, 270))):
            Circle(SKETCH_15_R)
        with Locations(Location((-52.641975029, -68, 0), (0, 0, 270))):
            Circle(SKETCH_15_R)
        with Locations(Location((45, -68, 0), (0, 0, 270))):
            Circle(SKETCH_15_R)
        with Locations(Location((65, -68, 0), (0, 0, 270))):
            Circle(SKETCH_15_R)
        with Locations(Location((162.641975029, -68, 0), (0, 0, 270))):
            Circle(SKETCH_15_R)
        with Locations(Location((182.641975029, -68, 0), (0, 0, 270))):
            Circle(SKETCH_15_R)
    extrude(amount=CUT_EXTRUDE_7_DEPTH, both=True, mode=Mode.SUBTRACT)


solid = part.part
